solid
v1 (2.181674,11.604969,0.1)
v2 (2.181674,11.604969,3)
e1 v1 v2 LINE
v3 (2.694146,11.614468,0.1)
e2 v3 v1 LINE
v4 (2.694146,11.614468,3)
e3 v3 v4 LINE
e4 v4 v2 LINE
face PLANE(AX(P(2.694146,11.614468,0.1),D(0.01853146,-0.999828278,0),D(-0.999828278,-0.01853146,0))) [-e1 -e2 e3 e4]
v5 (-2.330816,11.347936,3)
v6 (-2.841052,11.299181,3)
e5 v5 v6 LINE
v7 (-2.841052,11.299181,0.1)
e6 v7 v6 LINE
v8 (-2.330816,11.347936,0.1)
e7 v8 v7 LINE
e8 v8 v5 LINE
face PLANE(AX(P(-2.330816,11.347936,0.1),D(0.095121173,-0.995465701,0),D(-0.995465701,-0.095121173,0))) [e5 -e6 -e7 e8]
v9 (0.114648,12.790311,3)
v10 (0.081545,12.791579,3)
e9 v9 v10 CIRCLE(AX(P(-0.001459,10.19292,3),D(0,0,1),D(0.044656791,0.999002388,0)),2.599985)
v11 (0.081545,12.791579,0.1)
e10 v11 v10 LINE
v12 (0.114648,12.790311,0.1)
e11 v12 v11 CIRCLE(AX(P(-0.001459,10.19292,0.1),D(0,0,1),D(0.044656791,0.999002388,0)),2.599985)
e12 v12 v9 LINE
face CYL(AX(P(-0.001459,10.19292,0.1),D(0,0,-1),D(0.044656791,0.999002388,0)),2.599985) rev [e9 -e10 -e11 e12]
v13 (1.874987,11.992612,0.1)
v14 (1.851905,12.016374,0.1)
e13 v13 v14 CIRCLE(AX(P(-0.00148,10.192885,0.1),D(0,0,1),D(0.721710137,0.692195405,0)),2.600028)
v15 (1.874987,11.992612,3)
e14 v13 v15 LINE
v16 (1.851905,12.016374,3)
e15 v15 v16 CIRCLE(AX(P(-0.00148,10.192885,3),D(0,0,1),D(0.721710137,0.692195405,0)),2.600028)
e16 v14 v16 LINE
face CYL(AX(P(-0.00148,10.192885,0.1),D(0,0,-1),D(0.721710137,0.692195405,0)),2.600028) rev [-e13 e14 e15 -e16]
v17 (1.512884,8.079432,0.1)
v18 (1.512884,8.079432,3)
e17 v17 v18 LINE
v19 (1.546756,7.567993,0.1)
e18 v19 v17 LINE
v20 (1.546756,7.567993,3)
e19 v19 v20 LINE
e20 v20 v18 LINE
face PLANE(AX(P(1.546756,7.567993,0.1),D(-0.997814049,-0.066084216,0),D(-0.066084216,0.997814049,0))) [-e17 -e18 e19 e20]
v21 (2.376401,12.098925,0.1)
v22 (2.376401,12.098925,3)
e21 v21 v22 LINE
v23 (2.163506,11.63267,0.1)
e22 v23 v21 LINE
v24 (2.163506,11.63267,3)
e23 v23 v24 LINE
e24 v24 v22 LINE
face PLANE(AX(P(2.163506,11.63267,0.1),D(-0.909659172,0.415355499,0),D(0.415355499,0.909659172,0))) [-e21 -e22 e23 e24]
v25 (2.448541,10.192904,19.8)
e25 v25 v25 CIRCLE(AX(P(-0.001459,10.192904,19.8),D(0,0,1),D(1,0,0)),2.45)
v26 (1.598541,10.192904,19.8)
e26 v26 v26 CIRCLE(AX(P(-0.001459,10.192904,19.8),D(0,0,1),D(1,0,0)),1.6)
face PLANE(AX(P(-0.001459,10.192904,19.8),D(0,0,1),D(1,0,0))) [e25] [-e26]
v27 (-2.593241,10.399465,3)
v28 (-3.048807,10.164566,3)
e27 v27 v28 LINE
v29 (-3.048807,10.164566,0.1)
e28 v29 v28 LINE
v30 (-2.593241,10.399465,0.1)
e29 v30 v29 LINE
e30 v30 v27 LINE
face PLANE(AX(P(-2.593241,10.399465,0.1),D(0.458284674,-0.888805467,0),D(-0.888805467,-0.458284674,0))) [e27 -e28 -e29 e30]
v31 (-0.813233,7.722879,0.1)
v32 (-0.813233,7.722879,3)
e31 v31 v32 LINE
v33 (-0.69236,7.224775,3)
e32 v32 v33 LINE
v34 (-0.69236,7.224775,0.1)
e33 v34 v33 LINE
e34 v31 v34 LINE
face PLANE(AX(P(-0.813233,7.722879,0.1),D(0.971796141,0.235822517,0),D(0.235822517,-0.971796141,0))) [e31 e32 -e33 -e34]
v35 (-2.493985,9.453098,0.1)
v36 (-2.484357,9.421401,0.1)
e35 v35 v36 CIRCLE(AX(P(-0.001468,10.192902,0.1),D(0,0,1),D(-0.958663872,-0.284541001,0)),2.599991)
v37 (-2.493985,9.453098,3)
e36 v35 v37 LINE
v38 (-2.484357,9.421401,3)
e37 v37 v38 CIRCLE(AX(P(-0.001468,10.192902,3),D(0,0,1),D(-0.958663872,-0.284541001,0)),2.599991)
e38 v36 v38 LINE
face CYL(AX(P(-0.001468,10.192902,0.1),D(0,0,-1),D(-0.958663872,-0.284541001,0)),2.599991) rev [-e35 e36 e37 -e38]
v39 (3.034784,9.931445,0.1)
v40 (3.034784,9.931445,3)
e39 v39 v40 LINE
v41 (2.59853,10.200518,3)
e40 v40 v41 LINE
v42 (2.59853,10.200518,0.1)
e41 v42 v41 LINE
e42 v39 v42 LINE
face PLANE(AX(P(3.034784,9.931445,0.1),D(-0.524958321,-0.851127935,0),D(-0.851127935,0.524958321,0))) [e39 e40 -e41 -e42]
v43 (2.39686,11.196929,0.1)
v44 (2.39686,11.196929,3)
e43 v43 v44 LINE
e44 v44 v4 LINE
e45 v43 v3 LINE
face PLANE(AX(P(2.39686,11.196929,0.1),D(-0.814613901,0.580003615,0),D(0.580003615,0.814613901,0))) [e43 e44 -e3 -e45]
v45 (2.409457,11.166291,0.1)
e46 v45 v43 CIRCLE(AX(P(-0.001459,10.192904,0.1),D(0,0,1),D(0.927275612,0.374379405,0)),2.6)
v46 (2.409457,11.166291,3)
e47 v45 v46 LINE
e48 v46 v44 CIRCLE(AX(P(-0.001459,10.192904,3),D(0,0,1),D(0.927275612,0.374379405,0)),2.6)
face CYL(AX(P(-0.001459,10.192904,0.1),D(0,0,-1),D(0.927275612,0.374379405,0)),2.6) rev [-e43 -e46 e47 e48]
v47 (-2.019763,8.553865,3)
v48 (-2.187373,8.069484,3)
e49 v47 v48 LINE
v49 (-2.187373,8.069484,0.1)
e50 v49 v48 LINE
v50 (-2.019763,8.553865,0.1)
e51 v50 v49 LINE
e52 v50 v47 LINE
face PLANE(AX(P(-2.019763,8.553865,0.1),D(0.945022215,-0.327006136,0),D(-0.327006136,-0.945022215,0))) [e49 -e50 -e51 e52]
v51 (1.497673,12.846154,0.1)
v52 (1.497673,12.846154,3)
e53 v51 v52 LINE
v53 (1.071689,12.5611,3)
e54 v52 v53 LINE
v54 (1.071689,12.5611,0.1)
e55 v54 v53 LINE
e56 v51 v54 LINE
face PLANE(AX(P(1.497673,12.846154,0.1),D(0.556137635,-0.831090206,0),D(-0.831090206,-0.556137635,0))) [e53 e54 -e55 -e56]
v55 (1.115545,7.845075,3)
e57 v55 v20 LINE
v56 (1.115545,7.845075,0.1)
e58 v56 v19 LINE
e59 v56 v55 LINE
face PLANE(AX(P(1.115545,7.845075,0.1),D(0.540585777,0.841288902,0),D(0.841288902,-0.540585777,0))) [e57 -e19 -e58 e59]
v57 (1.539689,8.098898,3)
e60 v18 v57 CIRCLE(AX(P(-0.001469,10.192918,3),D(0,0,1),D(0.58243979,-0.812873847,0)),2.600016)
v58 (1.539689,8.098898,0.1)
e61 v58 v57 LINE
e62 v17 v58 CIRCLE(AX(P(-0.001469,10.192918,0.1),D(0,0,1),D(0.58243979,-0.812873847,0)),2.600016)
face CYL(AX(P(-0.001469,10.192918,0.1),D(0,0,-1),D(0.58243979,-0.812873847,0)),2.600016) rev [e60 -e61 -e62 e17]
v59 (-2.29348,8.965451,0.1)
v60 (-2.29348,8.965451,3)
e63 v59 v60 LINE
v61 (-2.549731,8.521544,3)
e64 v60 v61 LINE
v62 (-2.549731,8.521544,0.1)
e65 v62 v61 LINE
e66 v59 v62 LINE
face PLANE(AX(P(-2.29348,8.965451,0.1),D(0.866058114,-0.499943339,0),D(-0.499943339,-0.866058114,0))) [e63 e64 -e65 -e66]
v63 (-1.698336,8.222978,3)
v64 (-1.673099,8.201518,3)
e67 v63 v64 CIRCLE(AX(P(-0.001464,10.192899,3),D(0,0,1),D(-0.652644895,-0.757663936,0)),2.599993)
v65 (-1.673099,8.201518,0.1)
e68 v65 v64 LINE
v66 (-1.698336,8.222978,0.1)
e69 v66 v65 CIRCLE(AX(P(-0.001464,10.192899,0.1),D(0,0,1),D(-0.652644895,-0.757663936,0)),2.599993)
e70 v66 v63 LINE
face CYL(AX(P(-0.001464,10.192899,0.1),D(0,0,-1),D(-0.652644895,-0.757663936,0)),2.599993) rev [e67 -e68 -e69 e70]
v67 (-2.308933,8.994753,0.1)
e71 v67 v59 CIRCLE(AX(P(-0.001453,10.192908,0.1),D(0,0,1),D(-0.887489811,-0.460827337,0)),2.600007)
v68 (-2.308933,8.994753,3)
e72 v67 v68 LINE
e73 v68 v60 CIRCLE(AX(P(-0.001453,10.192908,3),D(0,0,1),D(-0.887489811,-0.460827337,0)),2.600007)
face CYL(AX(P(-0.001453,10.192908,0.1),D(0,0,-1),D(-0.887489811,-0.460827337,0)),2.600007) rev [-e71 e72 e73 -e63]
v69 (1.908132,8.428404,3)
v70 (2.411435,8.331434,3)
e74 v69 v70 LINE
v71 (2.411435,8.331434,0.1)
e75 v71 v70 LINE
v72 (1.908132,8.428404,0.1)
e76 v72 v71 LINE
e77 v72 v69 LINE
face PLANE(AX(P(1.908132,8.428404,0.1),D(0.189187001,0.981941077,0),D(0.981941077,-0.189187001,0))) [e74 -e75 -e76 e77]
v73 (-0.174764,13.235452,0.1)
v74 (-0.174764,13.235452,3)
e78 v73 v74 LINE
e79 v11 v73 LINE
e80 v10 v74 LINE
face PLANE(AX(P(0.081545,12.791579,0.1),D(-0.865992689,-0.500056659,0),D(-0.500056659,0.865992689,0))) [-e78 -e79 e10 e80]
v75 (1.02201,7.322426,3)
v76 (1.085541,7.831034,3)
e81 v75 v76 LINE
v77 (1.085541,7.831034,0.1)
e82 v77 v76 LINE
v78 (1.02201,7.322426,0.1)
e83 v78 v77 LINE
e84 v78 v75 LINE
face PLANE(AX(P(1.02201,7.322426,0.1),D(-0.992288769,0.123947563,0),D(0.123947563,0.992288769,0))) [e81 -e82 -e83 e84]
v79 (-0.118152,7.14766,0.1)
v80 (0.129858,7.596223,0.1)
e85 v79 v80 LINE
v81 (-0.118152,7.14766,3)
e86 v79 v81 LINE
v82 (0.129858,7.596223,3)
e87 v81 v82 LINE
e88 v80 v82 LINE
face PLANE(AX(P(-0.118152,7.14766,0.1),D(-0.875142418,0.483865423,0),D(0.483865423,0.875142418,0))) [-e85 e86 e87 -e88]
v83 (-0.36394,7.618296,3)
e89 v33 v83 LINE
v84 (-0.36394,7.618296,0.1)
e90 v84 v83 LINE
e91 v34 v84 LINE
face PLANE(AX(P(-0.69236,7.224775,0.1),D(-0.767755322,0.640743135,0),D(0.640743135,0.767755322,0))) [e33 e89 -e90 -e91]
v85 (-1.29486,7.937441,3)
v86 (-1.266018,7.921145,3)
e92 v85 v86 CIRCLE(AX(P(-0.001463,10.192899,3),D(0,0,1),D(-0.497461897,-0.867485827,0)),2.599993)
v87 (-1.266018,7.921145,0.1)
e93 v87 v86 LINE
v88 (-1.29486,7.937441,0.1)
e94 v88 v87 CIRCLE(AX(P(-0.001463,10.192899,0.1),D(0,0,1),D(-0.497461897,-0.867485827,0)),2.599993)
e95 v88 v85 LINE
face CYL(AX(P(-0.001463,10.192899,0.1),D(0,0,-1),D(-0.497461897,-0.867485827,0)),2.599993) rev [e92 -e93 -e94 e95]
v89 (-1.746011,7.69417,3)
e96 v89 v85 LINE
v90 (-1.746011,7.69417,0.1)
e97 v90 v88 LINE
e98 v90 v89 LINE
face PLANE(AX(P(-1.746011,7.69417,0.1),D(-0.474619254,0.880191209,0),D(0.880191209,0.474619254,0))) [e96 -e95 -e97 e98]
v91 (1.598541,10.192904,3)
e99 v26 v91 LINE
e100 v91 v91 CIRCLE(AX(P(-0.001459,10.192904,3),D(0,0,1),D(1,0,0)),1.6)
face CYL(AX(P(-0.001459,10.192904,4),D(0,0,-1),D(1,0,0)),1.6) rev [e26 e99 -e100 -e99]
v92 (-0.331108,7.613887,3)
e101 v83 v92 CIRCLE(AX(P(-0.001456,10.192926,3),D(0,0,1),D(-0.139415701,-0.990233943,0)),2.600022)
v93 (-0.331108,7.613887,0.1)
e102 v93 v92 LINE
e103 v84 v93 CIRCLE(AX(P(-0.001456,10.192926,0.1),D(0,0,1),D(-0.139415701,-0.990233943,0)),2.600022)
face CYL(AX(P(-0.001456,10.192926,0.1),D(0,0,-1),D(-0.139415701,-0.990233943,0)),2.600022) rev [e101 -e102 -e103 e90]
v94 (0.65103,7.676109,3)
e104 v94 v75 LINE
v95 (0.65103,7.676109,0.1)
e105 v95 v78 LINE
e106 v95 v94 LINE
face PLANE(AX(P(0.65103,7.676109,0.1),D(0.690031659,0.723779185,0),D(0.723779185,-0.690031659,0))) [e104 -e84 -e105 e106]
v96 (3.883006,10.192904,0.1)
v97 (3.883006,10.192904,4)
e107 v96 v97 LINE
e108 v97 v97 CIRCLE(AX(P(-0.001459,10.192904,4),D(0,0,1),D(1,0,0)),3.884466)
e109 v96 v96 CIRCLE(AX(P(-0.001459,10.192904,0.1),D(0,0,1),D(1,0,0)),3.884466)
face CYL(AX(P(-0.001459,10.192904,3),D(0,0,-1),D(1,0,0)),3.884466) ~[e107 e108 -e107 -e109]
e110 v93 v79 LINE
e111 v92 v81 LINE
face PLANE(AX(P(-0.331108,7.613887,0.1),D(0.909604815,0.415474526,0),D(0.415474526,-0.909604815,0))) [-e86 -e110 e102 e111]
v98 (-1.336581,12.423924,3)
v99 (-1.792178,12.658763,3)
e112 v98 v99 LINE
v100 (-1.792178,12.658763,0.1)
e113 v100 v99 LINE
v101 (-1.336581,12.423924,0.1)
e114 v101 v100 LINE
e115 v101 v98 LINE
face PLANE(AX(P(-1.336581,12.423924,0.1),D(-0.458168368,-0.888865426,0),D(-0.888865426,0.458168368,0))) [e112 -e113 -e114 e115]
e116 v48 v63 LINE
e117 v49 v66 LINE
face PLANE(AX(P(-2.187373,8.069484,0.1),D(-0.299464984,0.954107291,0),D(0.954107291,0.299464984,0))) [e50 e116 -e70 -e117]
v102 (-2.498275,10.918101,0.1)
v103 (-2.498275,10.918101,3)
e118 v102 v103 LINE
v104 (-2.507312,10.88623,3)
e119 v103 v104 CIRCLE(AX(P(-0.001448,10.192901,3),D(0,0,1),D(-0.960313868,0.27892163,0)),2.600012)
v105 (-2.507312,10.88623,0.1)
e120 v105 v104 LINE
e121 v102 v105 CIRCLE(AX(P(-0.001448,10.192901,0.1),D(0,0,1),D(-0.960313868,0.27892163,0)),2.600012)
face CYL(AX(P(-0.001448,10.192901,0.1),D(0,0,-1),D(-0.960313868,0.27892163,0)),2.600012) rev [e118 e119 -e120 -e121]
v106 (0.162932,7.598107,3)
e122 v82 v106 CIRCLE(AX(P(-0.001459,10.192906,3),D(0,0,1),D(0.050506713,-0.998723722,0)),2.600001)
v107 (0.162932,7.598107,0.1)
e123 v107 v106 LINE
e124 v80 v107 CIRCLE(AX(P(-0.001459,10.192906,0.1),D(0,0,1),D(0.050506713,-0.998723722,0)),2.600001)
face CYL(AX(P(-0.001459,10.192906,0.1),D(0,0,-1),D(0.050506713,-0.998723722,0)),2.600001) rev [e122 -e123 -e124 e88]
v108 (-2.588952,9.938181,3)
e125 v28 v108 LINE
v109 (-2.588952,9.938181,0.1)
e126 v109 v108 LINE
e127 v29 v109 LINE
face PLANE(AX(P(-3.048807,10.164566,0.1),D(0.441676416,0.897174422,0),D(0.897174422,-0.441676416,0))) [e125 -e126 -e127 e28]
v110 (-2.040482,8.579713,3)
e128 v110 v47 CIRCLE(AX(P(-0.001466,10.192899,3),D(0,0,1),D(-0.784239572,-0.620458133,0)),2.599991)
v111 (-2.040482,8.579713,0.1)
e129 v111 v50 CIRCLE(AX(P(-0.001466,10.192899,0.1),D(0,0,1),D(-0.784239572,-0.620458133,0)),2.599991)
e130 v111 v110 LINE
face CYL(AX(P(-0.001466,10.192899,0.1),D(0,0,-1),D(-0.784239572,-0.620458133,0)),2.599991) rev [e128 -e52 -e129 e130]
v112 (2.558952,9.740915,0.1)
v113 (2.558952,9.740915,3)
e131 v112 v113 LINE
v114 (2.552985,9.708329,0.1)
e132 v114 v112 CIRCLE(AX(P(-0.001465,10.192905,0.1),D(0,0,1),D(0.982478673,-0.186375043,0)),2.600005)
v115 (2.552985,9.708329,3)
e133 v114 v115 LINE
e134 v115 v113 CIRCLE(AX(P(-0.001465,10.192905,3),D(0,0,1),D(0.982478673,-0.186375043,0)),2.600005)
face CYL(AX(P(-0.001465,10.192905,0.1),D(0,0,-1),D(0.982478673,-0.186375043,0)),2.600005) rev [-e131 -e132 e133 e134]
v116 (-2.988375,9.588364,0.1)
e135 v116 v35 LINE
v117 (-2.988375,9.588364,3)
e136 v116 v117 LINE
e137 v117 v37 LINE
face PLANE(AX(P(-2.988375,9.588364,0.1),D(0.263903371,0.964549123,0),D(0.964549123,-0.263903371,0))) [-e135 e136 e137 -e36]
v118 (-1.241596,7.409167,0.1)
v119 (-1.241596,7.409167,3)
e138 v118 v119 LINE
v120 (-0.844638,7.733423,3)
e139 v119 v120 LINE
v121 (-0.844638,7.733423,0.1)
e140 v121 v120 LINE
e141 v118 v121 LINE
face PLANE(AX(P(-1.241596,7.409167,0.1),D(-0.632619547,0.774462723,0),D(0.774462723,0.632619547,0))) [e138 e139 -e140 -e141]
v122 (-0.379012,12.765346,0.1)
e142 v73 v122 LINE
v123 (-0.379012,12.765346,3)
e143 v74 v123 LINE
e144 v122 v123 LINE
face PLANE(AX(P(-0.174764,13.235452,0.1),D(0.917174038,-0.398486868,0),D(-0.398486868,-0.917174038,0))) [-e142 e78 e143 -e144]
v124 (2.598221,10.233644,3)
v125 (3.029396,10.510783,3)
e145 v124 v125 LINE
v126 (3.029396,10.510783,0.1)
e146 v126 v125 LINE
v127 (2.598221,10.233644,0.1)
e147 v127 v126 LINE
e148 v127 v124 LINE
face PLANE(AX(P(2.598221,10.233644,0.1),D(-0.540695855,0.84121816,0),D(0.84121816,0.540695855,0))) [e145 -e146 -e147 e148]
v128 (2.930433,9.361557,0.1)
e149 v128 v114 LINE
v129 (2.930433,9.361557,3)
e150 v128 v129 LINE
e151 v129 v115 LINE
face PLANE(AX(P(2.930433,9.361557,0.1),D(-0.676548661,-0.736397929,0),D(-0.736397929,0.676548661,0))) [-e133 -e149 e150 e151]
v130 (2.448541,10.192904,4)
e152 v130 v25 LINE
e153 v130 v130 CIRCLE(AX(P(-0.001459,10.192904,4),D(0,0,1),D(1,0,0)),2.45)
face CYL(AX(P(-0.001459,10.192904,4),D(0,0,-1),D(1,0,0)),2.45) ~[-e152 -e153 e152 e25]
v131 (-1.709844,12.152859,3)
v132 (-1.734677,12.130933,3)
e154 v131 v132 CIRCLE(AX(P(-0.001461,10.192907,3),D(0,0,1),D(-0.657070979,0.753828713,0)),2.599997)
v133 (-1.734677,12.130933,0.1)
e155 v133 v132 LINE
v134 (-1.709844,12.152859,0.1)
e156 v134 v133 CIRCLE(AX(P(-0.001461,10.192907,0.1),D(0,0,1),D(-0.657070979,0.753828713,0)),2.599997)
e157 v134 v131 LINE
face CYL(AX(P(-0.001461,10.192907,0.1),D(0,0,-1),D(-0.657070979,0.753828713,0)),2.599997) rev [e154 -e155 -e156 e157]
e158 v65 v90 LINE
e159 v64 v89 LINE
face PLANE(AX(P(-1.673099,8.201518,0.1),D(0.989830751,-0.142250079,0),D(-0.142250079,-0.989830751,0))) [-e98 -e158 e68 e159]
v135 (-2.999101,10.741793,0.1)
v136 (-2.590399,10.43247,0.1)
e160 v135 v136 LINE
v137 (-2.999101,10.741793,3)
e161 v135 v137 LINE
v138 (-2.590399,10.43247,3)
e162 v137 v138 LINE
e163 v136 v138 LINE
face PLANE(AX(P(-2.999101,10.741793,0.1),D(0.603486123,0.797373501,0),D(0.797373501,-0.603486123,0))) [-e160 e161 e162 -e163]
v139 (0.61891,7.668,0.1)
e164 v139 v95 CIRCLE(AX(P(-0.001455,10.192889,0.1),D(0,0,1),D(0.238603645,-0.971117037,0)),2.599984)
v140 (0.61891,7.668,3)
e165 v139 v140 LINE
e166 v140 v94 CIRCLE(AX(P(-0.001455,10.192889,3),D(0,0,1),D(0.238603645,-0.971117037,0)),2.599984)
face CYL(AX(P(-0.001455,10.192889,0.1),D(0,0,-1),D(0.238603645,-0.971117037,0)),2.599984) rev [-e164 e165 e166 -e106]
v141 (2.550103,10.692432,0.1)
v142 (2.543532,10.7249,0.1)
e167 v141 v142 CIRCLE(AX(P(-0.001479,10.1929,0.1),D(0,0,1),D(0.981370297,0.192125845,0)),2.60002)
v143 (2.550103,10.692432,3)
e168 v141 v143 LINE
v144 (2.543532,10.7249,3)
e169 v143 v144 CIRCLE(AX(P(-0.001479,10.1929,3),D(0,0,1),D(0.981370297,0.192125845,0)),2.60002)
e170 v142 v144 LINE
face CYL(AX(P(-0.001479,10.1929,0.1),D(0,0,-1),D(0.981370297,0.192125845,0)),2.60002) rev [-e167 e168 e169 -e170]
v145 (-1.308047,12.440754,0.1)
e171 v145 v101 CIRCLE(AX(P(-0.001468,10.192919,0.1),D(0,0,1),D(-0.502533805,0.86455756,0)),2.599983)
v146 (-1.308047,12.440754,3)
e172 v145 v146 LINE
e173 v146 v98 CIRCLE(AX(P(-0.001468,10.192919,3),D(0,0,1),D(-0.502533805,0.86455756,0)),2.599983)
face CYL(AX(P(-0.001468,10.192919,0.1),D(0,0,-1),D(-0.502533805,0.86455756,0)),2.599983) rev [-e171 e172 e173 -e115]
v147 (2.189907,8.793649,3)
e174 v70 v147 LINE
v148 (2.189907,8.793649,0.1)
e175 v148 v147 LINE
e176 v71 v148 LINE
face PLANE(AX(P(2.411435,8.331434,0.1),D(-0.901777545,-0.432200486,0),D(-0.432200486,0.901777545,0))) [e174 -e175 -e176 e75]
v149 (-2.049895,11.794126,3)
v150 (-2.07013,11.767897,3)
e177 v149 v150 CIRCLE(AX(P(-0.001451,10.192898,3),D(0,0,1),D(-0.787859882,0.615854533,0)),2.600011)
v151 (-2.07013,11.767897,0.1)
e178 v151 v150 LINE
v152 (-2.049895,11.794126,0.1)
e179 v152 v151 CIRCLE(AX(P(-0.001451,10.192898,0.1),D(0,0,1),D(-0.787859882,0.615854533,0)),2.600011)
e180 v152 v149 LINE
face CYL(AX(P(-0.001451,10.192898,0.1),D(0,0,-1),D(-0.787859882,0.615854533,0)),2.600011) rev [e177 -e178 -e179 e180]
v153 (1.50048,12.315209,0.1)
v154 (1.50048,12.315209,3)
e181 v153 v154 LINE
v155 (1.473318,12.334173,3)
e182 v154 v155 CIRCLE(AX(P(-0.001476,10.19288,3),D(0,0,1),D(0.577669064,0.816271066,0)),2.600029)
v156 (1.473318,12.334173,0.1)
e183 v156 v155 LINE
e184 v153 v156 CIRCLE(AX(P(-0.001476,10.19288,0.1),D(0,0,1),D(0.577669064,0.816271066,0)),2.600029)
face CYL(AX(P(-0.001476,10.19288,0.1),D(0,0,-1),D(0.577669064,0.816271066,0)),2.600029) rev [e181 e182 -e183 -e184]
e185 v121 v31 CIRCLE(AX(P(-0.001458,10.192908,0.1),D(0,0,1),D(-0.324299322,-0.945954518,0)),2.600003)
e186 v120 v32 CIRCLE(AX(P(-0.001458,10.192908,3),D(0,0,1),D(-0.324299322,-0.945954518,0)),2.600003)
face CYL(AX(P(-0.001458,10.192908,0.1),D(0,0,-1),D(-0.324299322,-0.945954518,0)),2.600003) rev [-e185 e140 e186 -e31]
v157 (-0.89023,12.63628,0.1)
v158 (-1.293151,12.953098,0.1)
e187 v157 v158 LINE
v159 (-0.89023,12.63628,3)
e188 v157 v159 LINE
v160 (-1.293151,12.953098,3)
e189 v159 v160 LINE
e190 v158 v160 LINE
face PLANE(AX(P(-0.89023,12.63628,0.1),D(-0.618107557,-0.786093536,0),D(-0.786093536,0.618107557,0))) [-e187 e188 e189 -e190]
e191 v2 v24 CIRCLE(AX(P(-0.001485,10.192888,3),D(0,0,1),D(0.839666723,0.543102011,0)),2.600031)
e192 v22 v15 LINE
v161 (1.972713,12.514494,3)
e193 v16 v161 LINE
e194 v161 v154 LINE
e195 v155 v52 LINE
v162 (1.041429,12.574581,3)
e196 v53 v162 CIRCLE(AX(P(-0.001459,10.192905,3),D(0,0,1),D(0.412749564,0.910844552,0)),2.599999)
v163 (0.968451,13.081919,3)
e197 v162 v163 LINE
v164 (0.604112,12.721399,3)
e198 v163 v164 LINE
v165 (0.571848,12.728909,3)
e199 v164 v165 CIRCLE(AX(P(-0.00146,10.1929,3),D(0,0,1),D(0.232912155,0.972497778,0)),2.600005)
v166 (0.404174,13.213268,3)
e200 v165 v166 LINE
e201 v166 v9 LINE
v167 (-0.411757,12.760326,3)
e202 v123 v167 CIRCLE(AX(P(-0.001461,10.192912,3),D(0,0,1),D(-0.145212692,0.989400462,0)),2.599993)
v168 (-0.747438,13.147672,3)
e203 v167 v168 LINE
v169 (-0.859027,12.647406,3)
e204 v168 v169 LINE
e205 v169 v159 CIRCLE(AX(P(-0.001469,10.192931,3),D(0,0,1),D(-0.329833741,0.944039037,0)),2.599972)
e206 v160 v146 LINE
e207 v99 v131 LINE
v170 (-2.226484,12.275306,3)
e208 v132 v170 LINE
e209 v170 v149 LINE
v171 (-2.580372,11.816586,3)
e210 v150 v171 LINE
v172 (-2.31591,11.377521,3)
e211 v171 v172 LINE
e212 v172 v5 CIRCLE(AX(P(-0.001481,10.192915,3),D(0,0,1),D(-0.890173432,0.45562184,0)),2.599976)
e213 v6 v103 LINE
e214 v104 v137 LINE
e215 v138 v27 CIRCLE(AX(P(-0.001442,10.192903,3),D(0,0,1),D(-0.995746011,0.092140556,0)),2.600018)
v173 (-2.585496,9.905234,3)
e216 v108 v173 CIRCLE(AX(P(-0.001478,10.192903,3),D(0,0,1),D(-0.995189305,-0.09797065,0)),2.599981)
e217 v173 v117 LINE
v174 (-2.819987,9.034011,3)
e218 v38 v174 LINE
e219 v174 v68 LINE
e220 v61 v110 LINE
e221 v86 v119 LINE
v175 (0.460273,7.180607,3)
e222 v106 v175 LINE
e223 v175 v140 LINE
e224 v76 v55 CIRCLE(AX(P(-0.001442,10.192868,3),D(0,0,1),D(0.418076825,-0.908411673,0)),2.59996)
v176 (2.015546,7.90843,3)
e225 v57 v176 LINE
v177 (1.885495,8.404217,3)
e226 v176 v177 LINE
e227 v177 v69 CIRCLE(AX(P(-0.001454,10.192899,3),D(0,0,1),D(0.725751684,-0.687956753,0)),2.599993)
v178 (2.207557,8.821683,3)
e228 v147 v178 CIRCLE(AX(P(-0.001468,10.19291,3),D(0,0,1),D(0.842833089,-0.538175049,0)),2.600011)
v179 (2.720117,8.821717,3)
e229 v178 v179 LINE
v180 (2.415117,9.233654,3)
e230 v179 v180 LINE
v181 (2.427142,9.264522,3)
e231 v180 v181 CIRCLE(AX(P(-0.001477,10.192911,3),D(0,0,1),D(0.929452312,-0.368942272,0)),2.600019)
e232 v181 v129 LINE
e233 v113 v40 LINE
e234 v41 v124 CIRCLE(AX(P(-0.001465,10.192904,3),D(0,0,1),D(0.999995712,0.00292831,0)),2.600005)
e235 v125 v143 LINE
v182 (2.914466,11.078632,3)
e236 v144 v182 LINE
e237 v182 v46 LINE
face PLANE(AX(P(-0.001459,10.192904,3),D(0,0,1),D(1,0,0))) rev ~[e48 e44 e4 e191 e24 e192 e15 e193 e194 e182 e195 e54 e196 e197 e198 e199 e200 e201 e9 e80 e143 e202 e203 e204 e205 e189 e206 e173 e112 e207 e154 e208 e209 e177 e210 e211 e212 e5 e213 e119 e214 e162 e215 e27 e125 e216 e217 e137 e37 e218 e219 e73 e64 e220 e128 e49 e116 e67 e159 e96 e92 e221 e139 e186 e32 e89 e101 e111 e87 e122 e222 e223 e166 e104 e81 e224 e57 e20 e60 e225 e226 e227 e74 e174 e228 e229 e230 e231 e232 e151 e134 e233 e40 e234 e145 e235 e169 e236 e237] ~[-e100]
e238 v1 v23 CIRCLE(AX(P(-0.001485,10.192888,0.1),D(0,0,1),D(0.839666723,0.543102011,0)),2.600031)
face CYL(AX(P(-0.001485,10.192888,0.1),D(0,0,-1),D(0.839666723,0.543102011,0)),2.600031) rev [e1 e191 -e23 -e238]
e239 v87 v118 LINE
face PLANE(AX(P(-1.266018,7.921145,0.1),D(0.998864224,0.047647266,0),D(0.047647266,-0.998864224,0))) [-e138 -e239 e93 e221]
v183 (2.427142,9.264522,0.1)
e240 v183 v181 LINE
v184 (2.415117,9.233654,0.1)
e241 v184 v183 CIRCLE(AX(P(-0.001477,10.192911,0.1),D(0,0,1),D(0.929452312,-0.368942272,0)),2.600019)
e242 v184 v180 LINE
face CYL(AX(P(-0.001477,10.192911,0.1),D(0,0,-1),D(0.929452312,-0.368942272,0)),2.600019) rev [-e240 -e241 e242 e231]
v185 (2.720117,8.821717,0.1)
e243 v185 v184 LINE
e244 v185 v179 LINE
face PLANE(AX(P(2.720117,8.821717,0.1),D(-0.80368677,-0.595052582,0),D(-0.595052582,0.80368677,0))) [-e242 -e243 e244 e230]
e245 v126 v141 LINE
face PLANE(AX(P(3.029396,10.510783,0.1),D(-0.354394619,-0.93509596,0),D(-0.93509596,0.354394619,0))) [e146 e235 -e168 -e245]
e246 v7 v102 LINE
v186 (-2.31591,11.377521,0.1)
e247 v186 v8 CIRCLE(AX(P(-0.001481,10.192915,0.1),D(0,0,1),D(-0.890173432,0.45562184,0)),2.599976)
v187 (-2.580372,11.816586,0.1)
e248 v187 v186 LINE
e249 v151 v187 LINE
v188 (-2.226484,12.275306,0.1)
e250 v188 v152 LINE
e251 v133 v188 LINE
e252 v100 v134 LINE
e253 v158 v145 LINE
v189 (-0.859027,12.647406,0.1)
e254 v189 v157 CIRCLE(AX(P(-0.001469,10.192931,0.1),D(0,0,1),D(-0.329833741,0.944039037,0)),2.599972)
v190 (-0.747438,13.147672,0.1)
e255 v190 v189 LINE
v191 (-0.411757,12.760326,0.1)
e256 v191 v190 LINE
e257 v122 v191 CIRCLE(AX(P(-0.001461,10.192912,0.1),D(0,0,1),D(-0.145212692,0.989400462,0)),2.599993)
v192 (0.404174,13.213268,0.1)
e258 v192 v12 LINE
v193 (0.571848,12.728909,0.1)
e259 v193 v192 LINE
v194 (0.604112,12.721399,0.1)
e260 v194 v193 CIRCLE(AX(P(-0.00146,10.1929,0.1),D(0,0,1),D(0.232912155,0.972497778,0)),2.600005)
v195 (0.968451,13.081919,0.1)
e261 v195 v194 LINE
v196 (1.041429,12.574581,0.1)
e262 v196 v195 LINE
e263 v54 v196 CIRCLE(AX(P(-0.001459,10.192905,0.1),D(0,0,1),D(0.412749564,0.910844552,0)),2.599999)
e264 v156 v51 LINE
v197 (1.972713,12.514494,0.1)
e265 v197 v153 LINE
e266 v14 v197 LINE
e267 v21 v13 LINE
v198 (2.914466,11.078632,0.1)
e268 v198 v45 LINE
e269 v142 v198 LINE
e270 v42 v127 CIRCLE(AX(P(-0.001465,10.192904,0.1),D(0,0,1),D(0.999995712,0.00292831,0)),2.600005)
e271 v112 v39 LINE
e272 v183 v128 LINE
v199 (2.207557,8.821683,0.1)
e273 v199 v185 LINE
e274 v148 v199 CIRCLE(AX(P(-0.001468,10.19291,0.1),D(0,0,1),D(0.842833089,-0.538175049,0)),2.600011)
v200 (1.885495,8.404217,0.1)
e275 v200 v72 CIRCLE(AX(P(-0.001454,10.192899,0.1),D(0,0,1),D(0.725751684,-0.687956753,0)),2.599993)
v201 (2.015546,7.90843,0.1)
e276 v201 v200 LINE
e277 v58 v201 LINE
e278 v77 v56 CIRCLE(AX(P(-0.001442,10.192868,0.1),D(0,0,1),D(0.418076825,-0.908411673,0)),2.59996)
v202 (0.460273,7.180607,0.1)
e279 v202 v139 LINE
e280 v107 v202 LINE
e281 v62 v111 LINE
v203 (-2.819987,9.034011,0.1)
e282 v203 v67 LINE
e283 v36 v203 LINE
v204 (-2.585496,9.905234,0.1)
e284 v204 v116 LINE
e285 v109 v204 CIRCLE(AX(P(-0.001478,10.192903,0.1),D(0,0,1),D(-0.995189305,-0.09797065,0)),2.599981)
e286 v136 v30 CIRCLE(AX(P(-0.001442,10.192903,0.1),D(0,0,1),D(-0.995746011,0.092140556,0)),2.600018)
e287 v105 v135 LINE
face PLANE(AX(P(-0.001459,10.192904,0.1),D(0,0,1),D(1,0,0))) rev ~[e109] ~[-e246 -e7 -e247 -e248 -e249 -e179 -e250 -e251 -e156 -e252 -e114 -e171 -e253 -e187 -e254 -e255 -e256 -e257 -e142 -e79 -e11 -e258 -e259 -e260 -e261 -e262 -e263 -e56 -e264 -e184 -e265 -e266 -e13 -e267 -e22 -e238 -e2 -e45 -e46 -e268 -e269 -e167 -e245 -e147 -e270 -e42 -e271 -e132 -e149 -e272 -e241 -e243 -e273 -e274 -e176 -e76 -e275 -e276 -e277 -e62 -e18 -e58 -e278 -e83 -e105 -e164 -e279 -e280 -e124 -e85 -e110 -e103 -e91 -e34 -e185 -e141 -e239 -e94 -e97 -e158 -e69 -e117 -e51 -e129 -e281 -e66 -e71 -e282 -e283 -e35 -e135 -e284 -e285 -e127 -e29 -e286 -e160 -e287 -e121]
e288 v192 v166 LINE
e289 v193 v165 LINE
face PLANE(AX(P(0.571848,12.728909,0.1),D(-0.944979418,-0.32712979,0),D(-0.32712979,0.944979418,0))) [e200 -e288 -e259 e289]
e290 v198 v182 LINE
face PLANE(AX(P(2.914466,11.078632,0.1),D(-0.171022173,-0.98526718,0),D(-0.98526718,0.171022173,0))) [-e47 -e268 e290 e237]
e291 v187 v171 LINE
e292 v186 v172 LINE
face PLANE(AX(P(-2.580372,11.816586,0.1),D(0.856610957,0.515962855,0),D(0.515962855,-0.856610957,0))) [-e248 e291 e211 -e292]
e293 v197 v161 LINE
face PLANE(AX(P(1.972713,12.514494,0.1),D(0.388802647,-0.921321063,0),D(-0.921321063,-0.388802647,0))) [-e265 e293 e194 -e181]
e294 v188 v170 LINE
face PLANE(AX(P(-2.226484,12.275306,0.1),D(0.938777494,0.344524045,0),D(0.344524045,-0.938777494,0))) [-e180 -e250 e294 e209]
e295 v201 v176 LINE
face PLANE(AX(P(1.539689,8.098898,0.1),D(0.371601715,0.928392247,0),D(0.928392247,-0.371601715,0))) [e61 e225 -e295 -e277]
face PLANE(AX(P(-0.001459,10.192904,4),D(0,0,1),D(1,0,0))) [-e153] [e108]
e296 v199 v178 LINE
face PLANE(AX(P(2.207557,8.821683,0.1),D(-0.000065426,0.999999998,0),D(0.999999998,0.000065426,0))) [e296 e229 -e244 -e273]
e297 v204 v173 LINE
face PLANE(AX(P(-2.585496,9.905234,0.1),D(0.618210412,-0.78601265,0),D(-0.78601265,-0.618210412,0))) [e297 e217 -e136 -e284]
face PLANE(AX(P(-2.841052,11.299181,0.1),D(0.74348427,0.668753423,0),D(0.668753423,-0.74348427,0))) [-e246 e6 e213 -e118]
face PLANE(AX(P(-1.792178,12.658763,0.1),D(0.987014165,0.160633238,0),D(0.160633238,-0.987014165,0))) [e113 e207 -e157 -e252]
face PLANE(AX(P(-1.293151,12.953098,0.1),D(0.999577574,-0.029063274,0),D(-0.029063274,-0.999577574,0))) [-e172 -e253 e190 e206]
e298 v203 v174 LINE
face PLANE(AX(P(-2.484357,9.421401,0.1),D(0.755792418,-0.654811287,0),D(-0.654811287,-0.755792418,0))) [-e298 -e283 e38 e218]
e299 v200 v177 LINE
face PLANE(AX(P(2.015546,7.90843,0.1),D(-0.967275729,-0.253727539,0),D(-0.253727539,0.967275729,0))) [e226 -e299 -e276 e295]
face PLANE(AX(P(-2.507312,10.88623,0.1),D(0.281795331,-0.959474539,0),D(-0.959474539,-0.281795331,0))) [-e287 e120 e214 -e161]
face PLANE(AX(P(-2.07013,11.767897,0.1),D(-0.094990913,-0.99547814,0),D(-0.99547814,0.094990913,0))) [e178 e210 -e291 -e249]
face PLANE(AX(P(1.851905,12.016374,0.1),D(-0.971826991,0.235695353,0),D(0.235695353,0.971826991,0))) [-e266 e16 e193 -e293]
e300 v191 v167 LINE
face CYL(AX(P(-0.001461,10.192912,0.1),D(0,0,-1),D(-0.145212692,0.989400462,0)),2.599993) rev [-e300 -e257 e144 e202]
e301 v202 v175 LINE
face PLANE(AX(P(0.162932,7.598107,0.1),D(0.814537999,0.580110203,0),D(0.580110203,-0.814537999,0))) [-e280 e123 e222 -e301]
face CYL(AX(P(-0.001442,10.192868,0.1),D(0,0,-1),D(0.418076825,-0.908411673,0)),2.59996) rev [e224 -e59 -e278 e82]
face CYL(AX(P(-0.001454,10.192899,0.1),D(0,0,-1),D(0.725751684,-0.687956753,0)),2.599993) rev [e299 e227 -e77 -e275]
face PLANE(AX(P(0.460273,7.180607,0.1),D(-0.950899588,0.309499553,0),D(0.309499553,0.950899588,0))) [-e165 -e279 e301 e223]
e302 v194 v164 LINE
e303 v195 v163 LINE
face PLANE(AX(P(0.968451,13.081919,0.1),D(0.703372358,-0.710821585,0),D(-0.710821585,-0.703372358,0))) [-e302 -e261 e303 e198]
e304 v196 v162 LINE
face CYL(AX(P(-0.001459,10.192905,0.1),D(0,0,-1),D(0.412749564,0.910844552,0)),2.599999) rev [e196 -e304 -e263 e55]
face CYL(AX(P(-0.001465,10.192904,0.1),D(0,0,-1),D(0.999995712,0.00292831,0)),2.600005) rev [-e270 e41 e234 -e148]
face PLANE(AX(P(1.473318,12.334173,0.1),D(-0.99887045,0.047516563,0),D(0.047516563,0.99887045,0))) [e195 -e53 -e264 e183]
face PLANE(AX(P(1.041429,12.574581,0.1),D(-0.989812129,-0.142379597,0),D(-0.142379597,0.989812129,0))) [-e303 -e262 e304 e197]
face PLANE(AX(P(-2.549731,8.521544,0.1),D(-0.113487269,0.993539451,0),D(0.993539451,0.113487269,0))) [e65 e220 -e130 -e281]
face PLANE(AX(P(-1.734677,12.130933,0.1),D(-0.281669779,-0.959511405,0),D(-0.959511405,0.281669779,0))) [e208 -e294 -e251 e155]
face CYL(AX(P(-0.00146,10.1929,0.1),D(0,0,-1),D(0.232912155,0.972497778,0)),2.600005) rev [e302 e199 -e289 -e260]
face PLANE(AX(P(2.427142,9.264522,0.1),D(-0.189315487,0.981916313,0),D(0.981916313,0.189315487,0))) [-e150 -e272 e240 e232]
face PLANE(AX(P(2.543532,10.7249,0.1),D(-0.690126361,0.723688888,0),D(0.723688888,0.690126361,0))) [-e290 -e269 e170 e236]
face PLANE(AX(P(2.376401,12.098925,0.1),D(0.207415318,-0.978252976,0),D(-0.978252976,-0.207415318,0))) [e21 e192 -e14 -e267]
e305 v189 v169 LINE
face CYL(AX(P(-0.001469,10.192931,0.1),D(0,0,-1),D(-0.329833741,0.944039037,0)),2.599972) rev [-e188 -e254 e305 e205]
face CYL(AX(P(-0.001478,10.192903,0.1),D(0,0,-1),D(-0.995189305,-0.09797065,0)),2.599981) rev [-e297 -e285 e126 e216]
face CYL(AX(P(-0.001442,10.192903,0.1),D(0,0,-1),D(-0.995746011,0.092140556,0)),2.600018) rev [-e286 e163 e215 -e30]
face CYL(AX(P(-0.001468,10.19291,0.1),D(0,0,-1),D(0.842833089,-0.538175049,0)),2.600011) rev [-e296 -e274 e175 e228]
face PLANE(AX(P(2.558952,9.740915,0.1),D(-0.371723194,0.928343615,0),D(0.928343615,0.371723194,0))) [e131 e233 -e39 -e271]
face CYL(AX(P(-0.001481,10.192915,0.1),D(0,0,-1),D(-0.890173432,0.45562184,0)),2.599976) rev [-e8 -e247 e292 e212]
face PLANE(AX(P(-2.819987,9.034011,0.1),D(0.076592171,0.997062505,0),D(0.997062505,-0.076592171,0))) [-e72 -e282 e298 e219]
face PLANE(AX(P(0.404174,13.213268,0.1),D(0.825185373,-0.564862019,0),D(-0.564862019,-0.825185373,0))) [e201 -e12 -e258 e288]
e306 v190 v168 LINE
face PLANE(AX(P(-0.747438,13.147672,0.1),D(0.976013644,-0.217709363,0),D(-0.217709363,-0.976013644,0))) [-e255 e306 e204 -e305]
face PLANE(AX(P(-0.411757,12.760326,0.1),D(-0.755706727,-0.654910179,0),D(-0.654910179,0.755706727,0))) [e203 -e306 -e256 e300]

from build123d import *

# Parameters (mm, degrees)
BOSS_EXTRUDE1_START = 0.1
SKETCH1_R           = 3.884465816
BOSS_EXTRUDE1_DEPTH = 2.9
SKETCH2_R           = 3.884465816
SKETCH2_R_2         = 1.6
BOSS_EXTRUDE2_DEPTH = 1
SKETCH3_R           = 2.45
SKETCH3_R_2         = 1.6
BOSS_EXTRUDE3_DEPTH = 15.8


with BuildPart() as part:
    # Sketch1 → Boss-Extrude1 (new body)
    with BuildSketch(Plane.XY.offset(BOSS_EXTRUDE1_START)):
        with Locations((-0.001459351, 10.192904416)):
            Circle(SKETCH1_R)
        with BuildLine():
            Line((0.96845111, 13.081919272), (0.60411229, 12.721398629))
            ThreePointArc((0.60411229, 12.721398629), (0.587991908, 12.72520519), (0.571847603, 12.728908977))
            Line((0.571847603, 12.728908977), (0.404173908, 13.213267772))
            Line((0.404173908, 13.213267772), (0.114648145, 12.790310631))
            ThreePointArc((0.114648145, 12.790310631), (0.098098683, 12.790997601), (0.08154518, 12.791579126))
            Line((0.08154518, 12.791579126), (-0.174763937, 13.23545247))
            Line((-0.174763937, 13.23545247), (-0.379012427, 12.765345605))
            ThreePointArc((-0.379012427, 12.765345605), (-0.395392828, 12.762888154), (-0.411757242, 12.760326399))
            Line((-0.411757242, 12.760326399), (-0.747438103, 13.147671554))
            Line((-0.747438103, 13.147671554), (-0.859027247, 12.647405852))
            ThreePointArc((-0.859027247, 12.647405852), (-0.874646558, 12.641892799), (-0.89023043, 12.636280352))
            Line((-0.89023043, 12.636280352), (-1.293150653, 12.953097656))
            Line((-1.293150653, 12.953097656), (-1.308047329, 12.440754022))
            ThreePointArc((-1.308047329, 12.440754022), (-1.322341026, 12.432384623), (-1.336581115, 12.423924333))
            Line((-1.336581115, 12.423924333), (-1.792178114, 12.658763182))
            Line((-1.792178114, 12.658763182), (-1.709843917, 12.152859051))
            ThreePointArc((-1.709843917, 12.152859051), (-1.72229539, 12.141935797), (-1.734677021, 12.130933442))
            Line((-1.734677021, 12.130933442), (-2.226484333, 12.275306147))
            Line((-2.226484333, 12.275306147), (-2.049895036, 11.794126212))
            ThreePointArc((-2.049895036, 11.794126212), (-2.060054255, 11.781043899), (-2.070129925, 11.767897132))
            Line((-2.070129925, 11.767897132), (-2.580372352, 11.816585689))
            Line((-2.580372352, 11.816585689), (-2.315910352, 11.377521046))
            ThreePointArc((-2.315910352, 11.377521046), (-2.323410137, 11.362752503), (-2.330815684, 11.347936481))
            Line((-2.330815684, 11.347936481), (-2.841051735, 11.299181158))
            Line((-2.841051735, 11.299181158), (-2.498275379, 10.918100748))
            ThreePointArc((-2.498275379, 10.918100748), (-2.502844667, 10.902179748), (-2.507312436, 10.886229962))
            Line((-2.507312436, 10.886229962), (-2.999100852, 10.741792904))
            Line((-2.999100852, 10.741792904), (-2.590398969, 10.432469965))
            ThreePointArc((-2.590398969, 10.432469965), (-2.591872615, 10.415971935), (-2.593241129, 10.399464852))
            Line((-2.593241129, 10.399464852), (-3.048807394, 10.16456639))
            Line((-3.048807394, 10.16456639), (-2.588951536, 9.938180659))
            ThreePointArc((-2.588951536, 9.938180659), (-2.587276279, 9.921701881), (-2.585496075, 9.905234109))
            Line((-2.585496075, 9.905234109), (-2.988374839, 9.588364086))
            Line((-2.988374839, 9.588364086), (-2.493985393, 9.453097734))
            ThreePointArc((-2.493985393, 9.453097734), (-2.489221781, 9.437233793), (-2.484357202, 9.421400521))
            Line((-2.484357202, 9.421400521), (-2.819987375, 9.034011444))
            Line((-2.819987375, 9.034011444), (-2.308932865, 8.994753349))
            ThreePointArc((-2.308932865, 8.994753349), (-2.301253067, 8.98007761), (-2.293479931, 8.965451093))
            Line((-2.293479931, 8.965451093), (-2.549730965, 8.521544214))
            Line((-2.549730965, 8.521544214), (-2.040482233, 8.579713266))
            ThreePointArc((-2.040482233, 8.579713266), (-2.030163816, 8.566756147), (-2.019763064, 8.553865027))
            Line((-2.019763064, 8.553865027), (-2.187373379, 8.069484296))
            Line((-2.187373379, 8.069484296), (-1.698336, 8.222978114))
            ThreePointArc((-1.698336, 8.222978114), (-1.6857519, 8.21220792), (-1.673099443, 8.201518114))
            Line((-1.673099443, 8.201518114), (-1.746011165, 7.694170314))
            Line((-1.746011165, 7.694170314), (-1.294860225, 7.937441231))
            ThreePointArc((-1.294860225, 7.937441231), (-1.280465263, 7.929247225), (-1.266018393, 7.921145091))
            Line((-1.266018393, 7.921145091), (-1.241596303, 7.409167093))
            Line((-1.241596303, 7.409167093), (-0.844637572, 7.733422664))
            ThreePointArc((-0.844637572, 7.733422664), (-0.82895202, 7.728100999), (-0.813232885, 7.722879369))
            Line((-0.813232885, 7.722879369), (-0.69235966, 7.224775391))
            Line((-0.69235966, 7.224775391), (-0.363940261, 7.618296176))
            ThreePointArc((-0.363940261, 7.618296176), (-0.347531036, 7.616039191), (-0.331107766, 7.613886788))
            Line((-0.331107766, 7.613886788), (-0.11815208, 7.147659606))
            Line((-0.11815208, 7.147659606), (0.129858055, 7.596222737))
            ThreePointArc((0.129858055, 7.596222737), (0.14639788, 7.597112005), (0.162931705, 7.598106624))
            Line((0.162931705, 7.598106624), (0.460273079, 7.180606903))
            Line((0.460273079, 7.180606903), (0.618910217, 7.66800014))
            ThreePointArc((0.618910217, 7.66800014), (0.634982852, 7.67200352), (0.651029656, 7.676109212))
            Line((0.651029656, 7.676109212), (1.022010025, 7.32242648))
            Line((1.022010025, 7.32242648), (1.085540607, 7.831034163))
            ThreePointArc((1.085540607, 7.831034163), (1.100565143, 7.838006962), (1.115544953, 7.845075337))
            Line((1.115544953, 7.845075337), (1.546756122, 7.567992608))
            Line((1.546756122, 7.567992608), (1.512883986, 8.079432329))
            ThreePointArc((1.512883986, 8.079432329), (1.526317398, 8.089122534), (1.539688805, 8.098898121))
            Line((1.539688805, 8.098898121), (2.015545677, 7.908429889))
            Line((2.015545677, 7.908429889), (1.885495051, 8.404216884))
            ThreePointArc((1.885495051, 8.404216884), (1.896851821, 8.416274264), (1.908131547, 8.428403749))
            Line((1.908131547, 8.428403749), (2.411435415, 8.331434031))
            Line((2.411435415, 8.331434031), (2.189906668, 8.793649267))
            ThreePointArc((2.189906668, 8.793649267), (2.198776332, 8.807638037), (2.207556699, 8.821683028))
            Line((2.207556699, 8.821683028), (2.72011685, 8.821716563))
            Line((2.72011685, 8.821716563), (2.415116608, 9.233654376))
            ThreePointArc((2.415116608, 9.233654376), (2.421178593, 9.249068946), (2.427142255, 9.264521821))
            Line((2.427142255, 9.264521821), (2.93043343, 9.361557396))
            Line((2.93043343, 9.361557396), (2.552985195, 9.708329281))
            ThreePointArc((2.552985195, 9.708329281), (2.556020406, 9.724612528), (2.558951821, 9.74091478))
            Line((2.558951821, 9.74091478), (3.034783766, 9.931445277))
            Line((3.034783766, 9.931445277), (2.598529502, 10.200517994))
            ThreePointArc((2.598529502, 10.200517994), (2.598428238, 10.217081399), (2.598221457, 10.233643822))
            Line((2.598221457, 10.233643822), (3.029396365, 10.510782972))
            Line((3.029396365, 10.510782972), (2.550103437, 10.692431532))
            ThreePointArc((2.550103437, 10.692431532), (2.546869358, 10.70867645), (2.543531855, 10.724900436))
            Line((2.543531855, 10.724900436), (2.914465941, 11.078631708))
            Line((2.914465941, 11.078631708), (2.409457245, 11.166290859))
            ThreePointArc((2.409457245, 11.166290859), (2.403207239, 11.181630157), (2.396859639, 11.196929327))
            Line((2.396859639, 11.196929327), (2.69414638, 11.614467952))
            Line((2.69414638, 11.614467952), (2.181674246, 11.604969464))
            ThreePointArc((2.181674246, 11.604969464), (2.172634204, 11.618848739), (2.163505927, 11.632670142))
            Line((2.163505927, 11.632670142), (2.376400605, 12.098925186))
            Line((2.376400605, 12.098925186), (1.87498711, 11.992612359))
            ThreePointArc((1.87498711, 11.992612359), (1.863483764, 12.004529978), (1.851904729, 12.016374073))
            Line((1.851904729, 12.016374073), (1.972712775, 12.514493863))
            Line((1.972712775, 12.514493863), (1.50048031, 12.315209119))
            ThreePointArc((1.50048031, 12.315209119), (1.48692942, 12.324734349), (1.473318124, 12.334173059))
            Line((1.473318124, 12.334173059), (1.497673221, 12.846154249))
            Line((1.497673221, 12.846154249), (1.071689498, 12.561100258))
            ThreePointArc((1.071689498, 12.561100258), (1.056580829, 12.567888832), (1.041429218, 12.574581017))
            Line((1.041429218, 12.574581017), (0.96845111, 13.081919272))
        make_face(mode=Mode.SUBTRACT)
    extrude(amount=BOSS_EXTRUDE1_DEPTH)

    # Sketch2 → Boss-Extrude2 (add)
    with BuildSketch(Plane.XY.offset(3)):
        with Locations((-0.001459351, 10.192904416)):
            Circle(SKETCH2_R)
        with Locations((-0.001459351, 10.192904416)):
            Circle(SKETCH2_R_2, mode=Mode.SUBTRACT)
    extrude(amount=BOSS_EXTRUDE2_DEPTH)

    # Sketch3 → Boss-Extrude3 (add)
    with BuildSketch(Plane.XY.offset(4)):
        with Locations((-0.001459351, 10.192904416)):
            Circle(SKETCH3_R)
        with Locations((-0.001459351, 10.192904416)):
            Circle(SKETCH3_R_2, mode=Mode.SUBTRACT)
    extrude(amount=BOSS_EXTRUDE3_DEPTH)


solid = part.part
